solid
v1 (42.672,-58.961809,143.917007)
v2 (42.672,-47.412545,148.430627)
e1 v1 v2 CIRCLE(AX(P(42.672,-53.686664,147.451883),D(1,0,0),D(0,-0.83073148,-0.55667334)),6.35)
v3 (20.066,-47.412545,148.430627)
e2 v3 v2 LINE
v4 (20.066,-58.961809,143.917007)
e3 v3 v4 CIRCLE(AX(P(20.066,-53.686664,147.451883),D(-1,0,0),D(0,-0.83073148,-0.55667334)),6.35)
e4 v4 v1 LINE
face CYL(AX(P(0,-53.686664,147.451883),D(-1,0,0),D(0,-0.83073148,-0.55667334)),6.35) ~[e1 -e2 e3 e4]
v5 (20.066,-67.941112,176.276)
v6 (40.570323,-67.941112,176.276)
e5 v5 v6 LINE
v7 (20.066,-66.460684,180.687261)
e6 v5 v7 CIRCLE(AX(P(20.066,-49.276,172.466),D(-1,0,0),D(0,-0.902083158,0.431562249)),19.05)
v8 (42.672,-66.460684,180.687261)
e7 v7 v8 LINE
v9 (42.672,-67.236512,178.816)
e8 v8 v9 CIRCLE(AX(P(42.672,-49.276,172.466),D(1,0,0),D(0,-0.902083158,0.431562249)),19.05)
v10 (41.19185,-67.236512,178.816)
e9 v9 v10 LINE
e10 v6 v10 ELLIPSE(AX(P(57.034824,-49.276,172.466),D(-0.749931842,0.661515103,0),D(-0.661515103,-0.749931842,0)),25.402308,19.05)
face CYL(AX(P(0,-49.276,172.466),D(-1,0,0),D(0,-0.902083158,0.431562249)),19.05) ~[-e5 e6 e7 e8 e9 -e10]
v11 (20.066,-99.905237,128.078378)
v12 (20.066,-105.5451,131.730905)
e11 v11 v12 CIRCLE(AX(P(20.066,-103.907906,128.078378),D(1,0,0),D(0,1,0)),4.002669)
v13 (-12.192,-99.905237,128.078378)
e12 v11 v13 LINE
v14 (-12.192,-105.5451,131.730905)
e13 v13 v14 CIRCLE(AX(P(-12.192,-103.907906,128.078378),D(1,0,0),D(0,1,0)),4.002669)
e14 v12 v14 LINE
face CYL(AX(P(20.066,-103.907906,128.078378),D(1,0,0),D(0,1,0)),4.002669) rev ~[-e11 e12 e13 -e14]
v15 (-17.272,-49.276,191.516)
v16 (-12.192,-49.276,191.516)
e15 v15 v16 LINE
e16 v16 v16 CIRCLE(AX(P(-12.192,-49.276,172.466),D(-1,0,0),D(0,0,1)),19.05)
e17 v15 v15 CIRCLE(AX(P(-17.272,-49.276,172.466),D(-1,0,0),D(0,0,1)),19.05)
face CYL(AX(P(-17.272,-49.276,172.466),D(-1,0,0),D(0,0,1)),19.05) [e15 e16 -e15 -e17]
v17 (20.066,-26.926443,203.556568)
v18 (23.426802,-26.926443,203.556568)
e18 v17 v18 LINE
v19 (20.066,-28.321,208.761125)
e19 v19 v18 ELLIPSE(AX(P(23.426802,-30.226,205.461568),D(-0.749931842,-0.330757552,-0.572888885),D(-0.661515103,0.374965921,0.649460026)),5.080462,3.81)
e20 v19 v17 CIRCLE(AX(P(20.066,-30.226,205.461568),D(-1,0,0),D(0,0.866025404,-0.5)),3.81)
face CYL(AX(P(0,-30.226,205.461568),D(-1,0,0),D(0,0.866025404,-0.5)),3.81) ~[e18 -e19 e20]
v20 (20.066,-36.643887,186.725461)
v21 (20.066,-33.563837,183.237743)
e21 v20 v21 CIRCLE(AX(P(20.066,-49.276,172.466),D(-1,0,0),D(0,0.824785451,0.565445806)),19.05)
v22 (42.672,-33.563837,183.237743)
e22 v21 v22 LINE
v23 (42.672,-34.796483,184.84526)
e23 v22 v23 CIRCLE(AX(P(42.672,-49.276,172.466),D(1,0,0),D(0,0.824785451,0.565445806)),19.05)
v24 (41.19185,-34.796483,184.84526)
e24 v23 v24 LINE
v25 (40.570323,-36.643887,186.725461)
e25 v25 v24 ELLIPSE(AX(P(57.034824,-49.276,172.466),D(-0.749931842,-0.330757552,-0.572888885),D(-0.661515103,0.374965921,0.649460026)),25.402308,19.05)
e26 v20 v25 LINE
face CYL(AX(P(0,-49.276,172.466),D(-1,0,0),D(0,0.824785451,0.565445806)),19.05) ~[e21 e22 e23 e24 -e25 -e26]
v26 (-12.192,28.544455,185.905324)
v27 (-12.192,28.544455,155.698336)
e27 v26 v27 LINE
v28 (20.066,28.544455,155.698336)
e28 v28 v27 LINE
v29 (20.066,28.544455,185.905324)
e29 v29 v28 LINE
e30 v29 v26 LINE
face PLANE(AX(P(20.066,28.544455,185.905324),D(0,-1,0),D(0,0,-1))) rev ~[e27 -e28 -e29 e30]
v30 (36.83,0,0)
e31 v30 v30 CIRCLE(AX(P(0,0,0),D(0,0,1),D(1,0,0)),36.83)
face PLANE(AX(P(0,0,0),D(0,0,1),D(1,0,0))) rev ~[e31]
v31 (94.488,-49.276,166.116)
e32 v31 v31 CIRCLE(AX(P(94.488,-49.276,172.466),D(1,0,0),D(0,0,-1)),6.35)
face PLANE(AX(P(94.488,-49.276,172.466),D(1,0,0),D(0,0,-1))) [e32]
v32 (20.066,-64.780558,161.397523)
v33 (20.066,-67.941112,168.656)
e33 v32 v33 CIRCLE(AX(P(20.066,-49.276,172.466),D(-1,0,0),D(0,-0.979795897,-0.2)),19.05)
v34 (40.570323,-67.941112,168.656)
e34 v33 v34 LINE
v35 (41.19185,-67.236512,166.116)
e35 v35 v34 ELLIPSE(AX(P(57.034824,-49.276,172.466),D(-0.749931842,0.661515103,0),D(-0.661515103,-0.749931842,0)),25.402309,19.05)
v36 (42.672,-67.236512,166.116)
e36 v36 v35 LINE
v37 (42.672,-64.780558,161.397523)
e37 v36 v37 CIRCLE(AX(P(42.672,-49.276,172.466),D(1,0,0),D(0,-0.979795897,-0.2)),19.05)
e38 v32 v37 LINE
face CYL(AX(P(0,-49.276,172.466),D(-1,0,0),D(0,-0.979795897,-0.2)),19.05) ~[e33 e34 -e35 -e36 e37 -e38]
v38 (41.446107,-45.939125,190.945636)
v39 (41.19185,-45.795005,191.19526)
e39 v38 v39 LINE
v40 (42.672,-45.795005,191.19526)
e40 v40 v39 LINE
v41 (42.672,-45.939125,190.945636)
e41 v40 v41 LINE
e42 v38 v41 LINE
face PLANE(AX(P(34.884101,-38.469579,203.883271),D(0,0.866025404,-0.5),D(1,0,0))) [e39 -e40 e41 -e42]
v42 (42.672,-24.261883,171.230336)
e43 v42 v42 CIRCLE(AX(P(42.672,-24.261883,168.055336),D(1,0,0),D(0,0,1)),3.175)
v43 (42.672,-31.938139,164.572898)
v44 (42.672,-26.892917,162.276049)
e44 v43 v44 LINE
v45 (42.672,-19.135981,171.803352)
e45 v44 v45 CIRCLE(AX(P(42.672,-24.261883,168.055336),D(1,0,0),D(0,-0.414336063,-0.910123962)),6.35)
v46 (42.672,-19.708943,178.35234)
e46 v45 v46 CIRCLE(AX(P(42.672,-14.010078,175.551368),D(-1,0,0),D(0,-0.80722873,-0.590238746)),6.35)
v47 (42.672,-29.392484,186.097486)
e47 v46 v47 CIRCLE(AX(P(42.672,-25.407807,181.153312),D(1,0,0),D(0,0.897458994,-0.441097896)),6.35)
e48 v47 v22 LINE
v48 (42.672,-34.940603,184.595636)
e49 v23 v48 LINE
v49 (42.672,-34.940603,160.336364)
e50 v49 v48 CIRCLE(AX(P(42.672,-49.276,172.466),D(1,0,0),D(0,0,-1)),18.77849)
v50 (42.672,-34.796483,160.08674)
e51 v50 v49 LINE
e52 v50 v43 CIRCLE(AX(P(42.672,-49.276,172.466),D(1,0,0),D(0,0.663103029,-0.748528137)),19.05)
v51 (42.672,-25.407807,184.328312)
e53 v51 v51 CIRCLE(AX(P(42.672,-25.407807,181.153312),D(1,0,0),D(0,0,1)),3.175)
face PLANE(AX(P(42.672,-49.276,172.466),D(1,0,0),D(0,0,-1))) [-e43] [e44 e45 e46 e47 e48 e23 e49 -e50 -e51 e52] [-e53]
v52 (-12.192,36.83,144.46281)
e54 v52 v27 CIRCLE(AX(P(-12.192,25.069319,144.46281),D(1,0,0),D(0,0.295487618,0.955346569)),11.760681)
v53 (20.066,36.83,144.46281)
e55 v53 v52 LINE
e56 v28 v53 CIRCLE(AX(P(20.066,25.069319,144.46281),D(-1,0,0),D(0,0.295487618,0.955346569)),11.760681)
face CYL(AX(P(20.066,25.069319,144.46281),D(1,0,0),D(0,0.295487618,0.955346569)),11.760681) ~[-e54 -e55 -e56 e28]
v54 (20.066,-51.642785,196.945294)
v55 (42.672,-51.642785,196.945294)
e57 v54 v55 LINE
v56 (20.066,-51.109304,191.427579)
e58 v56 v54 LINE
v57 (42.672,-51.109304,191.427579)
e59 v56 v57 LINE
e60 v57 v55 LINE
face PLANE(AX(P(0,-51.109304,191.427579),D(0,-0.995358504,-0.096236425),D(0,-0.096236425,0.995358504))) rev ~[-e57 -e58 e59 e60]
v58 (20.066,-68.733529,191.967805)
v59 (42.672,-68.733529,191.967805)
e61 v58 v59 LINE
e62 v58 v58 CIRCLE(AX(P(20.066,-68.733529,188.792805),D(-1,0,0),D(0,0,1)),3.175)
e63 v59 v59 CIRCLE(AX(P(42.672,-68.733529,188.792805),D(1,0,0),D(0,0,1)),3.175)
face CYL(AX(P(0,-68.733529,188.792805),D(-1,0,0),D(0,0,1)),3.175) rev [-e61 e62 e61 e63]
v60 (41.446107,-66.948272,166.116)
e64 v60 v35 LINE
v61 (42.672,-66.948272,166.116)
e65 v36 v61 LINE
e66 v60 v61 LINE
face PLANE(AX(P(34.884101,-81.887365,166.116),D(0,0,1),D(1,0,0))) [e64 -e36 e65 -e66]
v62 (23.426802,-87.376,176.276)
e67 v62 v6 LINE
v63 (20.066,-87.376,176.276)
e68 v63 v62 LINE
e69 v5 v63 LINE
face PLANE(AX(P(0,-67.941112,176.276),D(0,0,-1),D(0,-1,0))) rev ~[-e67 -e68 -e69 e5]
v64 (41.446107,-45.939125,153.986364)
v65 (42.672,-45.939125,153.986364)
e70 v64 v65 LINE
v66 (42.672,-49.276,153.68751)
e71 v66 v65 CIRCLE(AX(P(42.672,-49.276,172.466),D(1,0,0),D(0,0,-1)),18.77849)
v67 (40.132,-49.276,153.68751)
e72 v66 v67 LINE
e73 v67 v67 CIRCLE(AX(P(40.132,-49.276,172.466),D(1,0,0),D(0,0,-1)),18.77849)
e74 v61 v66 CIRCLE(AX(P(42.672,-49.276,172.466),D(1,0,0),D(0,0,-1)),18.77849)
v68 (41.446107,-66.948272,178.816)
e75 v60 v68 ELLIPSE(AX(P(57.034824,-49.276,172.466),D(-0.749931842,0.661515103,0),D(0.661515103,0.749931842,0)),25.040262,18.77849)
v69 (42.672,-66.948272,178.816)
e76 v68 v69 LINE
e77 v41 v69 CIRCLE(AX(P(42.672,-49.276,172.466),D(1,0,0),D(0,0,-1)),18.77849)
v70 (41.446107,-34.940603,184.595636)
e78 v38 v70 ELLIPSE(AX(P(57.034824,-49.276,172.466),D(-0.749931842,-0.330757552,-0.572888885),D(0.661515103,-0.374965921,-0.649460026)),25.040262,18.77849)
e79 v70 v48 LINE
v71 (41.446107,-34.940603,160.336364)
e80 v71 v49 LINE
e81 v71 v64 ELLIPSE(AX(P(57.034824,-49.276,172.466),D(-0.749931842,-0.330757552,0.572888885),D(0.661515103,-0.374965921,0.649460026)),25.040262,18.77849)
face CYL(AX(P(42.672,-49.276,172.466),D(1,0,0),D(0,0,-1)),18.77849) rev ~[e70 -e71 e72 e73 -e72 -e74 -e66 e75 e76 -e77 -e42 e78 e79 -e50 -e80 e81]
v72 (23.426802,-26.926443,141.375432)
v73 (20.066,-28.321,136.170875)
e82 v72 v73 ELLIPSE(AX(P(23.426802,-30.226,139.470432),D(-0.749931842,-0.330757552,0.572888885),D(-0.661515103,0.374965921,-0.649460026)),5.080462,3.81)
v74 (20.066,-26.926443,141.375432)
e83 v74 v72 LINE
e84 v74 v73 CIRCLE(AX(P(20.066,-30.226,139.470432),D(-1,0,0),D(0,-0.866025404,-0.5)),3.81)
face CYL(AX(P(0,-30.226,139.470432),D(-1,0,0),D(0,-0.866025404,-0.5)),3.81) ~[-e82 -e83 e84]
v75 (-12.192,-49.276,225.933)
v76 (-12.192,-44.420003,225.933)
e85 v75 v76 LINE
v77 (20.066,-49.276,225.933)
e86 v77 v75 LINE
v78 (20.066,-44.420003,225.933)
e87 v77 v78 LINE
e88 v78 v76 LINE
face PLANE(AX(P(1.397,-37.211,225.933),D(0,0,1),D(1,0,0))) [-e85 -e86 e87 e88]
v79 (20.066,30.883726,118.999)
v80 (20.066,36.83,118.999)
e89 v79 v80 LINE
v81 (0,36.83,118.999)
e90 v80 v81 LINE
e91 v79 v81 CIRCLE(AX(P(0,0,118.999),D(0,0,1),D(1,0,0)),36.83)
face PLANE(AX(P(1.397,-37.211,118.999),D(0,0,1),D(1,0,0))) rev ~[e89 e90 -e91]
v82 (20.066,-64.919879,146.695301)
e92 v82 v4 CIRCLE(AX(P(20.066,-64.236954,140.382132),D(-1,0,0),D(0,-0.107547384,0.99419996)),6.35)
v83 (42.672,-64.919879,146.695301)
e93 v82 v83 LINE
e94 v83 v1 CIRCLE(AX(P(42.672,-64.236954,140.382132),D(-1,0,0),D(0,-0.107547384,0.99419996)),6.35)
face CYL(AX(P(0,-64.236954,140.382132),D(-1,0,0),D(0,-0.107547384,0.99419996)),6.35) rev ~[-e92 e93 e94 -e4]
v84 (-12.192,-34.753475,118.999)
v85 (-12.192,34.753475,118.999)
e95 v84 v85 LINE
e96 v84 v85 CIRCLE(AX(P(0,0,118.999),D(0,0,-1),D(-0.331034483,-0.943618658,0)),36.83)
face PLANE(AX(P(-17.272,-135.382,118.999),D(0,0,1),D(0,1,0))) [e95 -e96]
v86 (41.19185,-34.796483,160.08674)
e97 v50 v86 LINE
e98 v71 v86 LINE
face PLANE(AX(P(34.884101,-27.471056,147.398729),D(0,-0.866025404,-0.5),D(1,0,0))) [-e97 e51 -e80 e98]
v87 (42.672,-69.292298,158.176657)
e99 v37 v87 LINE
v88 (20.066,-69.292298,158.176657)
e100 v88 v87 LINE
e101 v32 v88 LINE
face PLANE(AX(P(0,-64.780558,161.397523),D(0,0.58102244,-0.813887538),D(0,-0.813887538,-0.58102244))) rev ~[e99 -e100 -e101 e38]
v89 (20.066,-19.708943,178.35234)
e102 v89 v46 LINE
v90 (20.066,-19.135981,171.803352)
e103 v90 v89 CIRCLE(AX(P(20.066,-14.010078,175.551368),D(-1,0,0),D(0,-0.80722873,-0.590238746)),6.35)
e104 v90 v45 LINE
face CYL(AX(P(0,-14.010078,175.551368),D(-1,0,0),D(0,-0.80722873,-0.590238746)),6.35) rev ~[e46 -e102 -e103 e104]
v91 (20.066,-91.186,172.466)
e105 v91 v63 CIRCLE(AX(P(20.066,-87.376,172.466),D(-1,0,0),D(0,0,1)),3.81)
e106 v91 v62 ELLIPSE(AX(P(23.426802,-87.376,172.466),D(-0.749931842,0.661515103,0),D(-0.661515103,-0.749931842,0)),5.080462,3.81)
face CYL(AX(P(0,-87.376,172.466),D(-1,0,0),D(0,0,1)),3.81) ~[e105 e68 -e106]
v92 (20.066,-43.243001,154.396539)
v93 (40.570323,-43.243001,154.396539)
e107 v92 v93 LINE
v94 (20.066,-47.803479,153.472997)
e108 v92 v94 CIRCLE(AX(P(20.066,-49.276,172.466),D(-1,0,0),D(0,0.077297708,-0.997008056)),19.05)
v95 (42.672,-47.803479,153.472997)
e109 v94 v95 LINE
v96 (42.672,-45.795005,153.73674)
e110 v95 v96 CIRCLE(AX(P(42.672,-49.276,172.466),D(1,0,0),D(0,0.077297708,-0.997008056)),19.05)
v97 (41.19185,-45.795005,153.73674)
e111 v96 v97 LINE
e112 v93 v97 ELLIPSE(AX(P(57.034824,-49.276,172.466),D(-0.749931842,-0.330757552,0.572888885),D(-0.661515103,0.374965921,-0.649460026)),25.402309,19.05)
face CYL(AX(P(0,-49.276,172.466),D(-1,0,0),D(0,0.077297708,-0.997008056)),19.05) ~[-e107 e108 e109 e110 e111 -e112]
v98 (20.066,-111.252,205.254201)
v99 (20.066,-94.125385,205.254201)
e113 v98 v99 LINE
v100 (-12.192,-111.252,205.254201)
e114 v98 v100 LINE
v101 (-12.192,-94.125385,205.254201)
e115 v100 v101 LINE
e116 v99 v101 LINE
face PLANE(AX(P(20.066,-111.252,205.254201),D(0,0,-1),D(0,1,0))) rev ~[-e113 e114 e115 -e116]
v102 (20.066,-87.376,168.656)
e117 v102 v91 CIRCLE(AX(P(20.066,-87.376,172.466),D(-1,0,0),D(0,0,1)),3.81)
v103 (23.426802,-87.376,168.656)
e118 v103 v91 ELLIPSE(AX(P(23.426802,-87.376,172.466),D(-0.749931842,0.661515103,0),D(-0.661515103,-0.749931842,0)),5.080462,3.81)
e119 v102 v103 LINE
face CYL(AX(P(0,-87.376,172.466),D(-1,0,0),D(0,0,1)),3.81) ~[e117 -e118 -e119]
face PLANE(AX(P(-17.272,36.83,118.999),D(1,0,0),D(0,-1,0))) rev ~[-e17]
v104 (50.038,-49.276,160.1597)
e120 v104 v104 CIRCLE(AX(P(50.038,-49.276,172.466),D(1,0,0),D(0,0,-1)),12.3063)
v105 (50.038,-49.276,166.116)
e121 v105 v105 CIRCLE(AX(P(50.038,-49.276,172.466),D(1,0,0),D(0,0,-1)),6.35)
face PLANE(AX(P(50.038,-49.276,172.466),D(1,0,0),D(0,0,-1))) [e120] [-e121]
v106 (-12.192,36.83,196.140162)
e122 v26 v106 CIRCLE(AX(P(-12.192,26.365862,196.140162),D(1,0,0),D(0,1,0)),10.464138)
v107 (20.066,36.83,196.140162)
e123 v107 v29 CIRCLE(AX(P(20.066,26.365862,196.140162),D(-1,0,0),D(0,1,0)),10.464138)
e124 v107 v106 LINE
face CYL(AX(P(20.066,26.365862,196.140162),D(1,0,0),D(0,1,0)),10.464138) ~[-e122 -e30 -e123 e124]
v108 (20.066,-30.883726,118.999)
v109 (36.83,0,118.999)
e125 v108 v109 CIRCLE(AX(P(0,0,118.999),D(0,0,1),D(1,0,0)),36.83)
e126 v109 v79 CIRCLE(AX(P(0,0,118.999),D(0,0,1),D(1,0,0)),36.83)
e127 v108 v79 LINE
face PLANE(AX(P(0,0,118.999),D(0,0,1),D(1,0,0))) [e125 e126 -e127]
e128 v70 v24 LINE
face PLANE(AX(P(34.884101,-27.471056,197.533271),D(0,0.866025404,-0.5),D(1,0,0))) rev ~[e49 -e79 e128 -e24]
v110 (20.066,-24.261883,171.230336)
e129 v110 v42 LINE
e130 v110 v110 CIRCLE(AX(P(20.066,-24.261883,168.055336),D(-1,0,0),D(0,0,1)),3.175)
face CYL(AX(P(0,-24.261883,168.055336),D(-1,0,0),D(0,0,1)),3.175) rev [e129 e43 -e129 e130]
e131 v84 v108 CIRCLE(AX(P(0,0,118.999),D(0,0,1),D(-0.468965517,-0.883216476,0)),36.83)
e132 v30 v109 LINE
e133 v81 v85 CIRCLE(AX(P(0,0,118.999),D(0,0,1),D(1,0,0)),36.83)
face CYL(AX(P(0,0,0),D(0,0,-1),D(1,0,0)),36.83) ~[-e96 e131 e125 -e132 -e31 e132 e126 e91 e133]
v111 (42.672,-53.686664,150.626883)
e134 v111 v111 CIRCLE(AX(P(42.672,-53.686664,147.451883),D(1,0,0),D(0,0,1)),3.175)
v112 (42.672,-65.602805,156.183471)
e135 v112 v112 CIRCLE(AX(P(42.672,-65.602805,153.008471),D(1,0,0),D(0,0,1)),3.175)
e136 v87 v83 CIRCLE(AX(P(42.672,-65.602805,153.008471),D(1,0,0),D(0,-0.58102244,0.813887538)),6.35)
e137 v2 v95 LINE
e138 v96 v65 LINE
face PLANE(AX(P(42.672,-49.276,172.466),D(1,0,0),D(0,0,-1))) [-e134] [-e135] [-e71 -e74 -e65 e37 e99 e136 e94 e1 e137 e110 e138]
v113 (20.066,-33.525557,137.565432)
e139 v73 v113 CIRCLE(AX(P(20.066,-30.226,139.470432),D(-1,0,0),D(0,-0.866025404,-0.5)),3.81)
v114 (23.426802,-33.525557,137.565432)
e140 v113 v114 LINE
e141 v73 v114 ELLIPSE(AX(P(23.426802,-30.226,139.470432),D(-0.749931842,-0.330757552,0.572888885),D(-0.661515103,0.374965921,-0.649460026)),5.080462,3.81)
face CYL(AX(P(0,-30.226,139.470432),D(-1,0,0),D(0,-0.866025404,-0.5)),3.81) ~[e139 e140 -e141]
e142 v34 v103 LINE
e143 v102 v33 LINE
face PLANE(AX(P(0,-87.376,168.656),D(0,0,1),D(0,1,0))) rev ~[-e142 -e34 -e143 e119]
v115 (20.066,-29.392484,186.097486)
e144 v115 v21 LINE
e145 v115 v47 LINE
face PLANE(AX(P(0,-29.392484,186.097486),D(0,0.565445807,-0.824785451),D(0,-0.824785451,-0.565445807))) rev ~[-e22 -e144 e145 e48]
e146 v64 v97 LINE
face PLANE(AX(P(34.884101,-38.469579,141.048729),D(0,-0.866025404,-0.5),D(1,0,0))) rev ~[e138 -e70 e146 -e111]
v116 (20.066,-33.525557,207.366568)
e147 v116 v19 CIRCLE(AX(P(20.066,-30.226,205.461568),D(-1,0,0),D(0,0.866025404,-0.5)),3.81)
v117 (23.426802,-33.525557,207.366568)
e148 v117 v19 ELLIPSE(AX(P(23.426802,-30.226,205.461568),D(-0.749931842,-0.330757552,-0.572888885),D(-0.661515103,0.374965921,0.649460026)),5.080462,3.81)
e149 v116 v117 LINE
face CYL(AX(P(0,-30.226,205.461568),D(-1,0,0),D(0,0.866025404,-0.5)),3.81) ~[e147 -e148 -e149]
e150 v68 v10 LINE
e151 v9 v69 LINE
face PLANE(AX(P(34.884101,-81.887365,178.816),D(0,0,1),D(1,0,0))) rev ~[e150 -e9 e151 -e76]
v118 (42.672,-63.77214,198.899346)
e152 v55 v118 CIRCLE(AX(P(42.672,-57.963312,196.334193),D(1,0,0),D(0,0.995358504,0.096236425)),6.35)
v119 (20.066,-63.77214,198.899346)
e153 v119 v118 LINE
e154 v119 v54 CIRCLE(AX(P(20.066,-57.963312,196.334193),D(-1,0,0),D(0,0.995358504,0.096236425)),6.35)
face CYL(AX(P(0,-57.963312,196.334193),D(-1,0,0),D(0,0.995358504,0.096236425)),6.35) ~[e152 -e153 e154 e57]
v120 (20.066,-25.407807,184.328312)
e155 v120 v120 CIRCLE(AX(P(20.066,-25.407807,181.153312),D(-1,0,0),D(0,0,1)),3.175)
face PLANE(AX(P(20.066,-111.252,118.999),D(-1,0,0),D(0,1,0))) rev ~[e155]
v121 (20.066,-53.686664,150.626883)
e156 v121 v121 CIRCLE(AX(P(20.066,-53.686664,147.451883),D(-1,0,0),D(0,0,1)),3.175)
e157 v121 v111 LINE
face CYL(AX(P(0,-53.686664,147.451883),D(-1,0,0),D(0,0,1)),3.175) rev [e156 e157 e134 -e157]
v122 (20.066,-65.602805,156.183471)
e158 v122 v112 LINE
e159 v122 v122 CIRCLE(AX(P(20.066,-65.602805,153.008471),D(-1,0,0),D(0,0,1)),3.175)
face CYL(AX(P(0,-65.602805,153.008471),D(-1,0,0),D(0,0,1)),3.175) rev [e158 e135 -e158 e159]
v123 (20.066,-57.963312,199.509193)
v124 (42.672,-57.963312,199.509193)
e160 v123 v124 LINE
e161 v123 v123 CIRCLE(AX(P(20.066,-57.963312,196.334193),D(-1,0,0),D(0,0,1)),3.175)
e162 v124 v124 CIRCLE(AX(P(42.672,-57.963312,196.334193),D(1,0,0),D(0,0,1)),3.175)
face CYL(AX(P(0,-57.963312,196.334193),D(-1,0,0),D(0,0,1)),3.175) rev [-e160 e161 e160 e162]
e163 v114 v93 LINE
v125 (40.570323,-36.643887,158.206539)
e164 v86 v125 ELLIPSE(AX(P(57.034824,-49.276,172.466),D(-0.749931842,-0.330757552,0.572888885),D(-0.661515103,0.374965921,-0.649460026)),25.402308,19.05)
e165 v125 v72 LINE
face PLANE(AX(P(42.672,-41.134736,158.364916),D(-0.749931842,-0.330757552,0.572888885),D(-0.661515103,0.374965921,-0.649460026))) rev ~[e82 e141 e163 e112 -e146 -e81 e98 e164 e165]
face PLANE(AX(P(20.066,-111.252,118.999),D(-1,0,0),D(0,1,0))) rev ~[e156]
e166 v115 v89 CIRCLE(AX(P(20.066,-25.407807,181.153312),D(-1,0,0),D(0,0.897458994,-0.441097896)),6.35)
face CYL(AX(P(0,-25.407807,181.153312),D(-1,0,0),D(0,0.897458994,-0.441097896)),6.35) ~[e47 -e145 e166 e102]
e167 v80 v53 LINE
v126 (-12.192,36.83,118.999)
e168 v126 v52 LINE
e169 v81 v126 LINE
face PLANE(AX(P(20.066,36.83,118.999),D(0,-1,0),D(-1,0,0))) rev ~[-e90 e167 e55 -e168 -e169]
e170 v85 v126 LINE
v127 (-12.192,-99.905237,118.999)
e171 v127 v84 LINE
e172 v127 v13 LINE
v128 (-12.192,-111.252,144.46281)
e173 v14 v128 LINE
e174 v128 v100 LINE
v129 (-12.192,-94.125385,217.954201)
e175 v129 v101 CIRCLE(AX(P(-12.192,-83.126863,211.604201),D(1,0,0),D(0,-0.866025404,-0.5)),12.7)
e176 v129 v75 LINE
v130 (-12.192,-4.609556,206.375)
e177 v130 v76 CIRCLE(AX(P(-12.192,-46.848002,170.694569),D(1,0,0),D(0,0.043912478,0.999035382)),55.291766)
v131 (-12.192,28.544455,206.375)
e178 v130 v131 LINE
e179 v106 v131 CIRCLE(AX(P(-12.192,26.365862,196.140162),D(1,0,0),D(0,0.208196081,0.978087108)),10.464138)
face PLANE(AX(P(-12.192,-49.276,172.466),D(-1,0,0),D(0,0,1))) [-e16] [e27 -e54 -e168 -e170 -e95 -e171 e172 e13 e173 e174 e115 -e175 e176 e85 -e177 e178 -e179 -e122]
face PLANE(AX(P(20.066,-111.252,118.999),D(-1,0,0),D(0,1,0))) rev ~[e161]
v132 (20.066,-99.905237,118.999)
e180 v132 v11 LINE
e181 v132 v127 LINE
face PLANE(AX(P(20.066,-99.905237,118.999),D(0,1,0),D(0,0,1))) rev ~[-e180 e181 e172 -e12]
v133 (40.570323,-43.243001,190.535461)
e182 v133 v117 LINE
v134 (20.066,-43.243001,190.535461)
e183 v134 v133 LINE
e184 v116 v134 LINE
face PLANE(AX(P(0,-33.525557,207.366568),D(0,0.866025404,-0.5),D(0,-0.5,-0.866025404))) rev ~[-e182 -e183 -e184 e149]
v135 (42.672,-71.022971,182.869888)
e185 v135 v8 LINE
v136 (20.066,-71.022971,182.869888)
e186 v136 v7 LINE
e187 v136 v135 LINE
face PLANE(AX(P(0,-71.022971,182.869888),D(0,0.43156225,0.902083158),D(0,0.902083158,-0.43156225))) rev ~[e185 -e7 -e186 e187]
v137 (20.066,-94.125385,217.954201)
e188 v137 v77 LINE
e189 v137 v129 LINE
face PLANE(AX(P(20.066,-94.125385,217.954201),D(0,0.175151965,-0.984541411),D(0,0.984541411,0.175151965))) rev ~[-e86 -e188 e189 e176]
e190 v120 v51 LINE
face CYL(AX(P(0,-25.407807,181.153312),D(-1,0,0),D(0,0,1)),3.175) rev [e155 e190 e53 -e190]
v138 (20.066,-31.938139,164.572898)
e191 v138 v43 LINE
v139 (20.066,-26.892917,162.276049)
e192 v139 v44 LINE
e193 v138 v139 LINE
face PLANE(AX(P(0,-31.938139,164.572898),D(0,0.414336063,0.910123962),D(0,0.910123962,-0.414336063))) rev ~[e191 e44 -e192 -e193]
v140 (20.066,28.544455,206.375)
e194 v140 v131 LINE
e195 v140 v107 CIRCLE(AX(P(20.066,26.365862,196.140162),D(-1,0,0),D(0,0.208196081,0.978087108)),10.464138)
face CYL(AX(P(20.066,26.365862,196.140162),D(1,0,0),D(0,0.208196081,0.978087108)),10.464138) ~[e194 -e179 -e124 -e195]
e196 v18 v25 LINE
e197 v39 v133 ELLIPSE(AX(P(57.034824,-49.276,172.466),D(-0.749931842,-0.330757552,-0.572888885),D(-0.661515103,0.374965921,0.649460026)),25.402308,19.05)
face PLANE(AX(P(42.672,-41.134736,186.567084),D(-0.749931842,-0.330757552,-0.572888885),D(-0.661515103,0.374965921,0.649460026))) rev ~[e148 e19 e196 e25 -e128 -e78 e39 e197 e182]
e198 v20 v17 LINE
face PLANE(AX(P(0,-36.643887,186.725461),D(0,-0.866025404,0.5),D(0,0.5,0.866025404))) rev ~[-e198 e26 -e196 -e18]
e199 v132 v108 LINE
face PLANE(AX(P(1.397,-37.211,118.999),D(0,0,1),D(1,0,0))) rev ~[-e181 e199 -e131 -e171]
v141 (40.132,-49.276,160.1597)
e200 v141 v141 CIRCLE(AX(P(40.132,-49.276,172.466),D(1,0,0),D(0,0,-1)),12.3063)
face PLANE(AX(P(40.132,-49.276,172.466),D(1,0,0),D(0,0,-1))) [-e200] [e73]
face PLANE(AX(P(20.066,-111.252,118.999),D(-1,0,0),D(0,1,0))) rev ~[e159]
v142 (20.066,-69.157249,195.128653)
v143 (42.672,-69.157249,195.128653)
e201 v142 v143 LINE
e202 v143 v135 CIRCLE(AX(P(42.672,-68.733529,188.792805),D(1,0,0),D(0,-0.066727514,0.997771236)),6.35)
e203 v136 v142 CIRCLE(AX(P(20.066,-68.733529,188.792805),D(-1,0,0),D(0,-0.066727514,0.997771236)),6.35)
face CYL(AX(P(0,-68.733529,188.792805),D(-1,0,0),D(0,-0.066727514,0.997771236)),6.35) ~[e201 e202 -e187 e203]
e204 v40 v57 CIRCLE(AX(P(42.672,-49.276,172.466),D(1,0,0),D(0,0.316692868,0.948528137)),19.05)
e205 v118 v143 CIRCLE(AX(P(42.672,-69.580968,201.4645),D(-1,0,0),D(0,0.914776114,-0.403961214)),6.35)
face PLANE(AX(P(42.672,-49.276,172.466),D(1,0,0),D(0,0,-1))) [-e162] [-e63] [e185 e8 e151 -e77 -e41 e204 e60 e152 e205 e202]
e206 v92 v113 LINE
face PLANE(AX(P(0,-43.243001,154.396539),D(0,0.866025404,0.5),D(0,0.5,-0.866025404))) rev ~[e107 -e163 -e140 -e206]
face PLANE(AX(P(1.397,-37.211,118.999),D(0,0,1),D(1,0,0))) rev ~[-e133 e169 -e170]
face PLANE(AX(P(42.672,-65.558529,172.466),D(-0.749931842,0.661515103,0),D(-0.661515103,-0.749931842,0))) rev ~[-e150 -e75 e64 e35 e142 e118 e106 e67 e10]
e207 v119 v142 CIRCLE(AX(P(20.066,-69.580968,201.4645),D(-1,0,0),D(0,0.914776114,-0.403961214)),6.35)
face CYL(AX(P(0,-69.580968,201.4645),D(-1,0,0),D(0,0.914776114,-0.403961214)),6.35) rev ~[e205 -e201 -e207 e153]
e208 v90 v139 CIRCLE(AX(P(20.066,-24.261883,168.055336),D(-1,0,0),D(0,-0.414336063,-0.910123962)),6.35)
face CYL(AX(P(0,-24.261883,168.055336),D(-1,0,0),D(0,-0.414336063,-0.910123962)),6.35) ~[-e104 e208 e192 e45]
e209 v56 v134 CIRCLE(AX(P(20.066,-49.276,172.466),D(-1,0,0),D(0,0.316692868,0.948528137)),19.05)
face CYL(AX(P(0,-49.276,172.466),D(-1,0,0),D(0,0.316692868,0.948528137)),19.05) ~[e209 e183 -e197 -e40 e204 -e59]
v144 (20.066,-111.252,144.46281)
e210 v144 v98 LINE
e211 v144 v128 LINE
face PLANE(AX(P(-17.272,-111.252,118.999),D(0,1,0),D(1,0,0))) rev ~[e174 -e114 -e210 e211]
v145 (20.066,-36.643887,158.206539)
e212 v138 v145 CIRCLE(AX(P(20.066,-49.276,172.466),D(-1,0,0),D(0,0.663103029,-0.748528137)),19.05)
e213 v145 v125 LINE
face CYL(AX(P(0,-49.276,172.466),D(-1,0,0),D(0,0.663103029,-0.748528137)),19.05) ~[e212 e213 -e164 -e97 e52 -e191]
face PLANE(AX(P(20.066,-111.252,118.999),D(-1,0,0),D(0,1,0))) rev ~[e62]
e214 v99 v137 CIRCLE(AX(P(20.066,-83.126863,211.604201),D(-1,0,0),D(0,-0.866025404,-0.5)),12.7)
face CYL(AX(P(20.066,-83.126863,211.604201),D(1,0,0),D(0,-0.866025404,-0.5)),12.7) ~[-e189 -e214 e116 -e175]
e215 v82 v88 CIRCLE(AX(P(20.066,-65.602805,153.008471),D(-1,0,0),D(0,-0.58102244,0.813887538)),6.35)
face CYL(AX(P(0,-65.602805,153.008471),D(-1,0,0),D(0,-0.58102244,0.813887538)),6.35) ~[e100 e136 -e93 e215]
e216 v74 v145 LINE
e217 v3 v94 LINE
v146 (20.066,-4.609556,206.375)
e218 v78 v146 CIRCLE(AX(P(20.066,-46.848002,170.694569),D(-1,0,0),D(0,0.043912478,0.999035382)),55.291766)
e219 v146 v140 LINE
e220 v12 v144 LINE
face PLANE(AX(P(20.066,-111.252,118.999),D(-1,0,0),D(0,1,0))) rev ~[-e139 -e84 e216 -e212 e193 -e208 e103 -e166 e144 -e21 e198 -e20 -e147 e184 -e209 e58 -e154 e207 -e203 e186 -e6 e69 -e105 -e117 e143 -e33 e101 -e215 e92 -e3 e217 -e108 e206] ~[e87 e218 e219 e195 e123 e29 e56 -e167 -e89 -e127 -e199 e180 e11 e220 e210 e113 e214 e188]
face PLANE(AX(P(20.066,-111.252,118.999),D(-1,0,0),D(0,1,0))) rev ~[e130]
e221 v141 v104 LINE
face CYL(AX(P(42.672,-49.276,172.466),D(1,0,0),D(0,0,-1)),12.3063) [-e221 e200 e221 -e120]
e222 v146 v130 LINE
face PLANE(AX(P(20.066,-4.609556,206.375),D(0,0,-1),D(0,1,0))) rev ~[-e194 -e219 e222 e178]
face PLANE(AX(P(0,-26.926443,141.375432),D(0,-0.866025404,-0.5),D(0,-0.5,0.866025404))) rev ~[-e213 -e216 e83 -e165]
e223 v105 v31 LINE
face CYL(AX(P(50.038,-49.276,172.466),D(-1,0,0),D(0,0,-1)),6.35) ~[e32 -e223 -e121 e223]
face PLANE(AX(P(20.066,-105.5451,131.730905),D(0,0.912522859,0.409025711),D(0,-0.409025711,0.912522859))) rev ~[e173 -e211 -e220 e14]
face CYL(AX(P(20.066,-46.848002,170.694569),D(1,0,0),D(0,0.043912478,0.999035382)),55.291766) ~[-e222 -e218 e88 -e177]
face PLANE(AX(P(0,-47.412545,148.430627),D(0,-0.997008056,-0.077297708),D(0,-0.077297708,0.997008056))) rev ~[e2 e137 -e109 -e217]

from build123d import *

# Parameters (mm, degrees)
SKETCH1_R           = 36.83
BOSS_EXTRUDE1_DEPTH = 118.999
BOSS_EXTRUDE2_DEPTH = 106.934
SKETCH5_R           = 3.175
BOSS_EXTRUDE3_DEPTH = 42.672
SKETCH6_R           = 12.3063
BOSS_EXTRUDE4_DEPTH = 7.366
SKETCH7_R           = 6.35
BOSS_EXTRUDE5_DEPTH = 44.45
CUT_EXTRUDE1_DEPTH  = 6.35
CIRPATTERN1_COUNT   = 3
SKETCH9_R           = 18.778489943
SKETCH9_R_2         = 12.3063
CUT_EXTRUDE3_DEPTH  = 2.54
CUT_EXTRUDE5_DEPTH  = 64.516
SKETCH11_W          = 106.934
SKETCH11_H          = 172.212
SKETCH11_R          = 19.05
CUT_EXTRUDE6_DEPTH  = 5.08


with BuildPart() as part:
    # Sketch1 → Boss-Extrude1 (new body)
    with BuildSketch(Plane.XY):
        Circle(SKETCH1_R)
    extrude(amount=BOSS_EXTRUDE1_DEPTH)

    # Sketch2 → Boss-Extrude2 (add)
    with BuildSketch(Plane.XY.offset(118.999)):
        Polygon((-17.272, -111.252), (0, -111.252), (20.066, -111.252), (20.066, 36.83), (0, 36.83), (-17.272, 36.83), align=None)
    extrude(amount=BOSS_EXTRUDE2_DEPTH)

    # Sketch5 → Boss-Extrude3 (add)
    with BuildSketch(Plane(origin=(0, 0, 0), x_dir=(0, 0, -1), z_dir=(1, 0, 0))):
        with BuildLine():
            Line((-161.397522513, -64.780557592), (-158.176657009, -69.292297782))
            ThreePointArc((-158.176657009, -69.292297782), (-150.748546887, -71.537048486), (-146.695301399, -64.919879399))
            ThreePointArc((-146.695301399, -64.919879399), (-146.137186102, -61.553327551), (-143.917007364, -58.961808613))
            ThreePointArc((-143.917007364, -58.961808613), (-141.537508816, -51.375240527), (-148.430626829, -47.412545395))
            Line((-148.430626829, -47.412545395), (-153.472996527, -47.803478665))
            ThreePointArc((-153.472996527, -47.803478665), (-153.795004902, -45.494936389), (-154.396538982, -43.243000868))
            Line((-154.396538982, -43.243000868), (-137.565432116, -33.525556788))
            ThreePointArc((-137.565432116, -33.525556788), (-136.170875327, -28.321), (-141.375432116, -26.926443212))
            Line((-141.375432116, -26.926443212), (-158.206538982, -36.643887292))
            ThreePointArc((-158.206538982, -36.643887292), (-161.142571632, -33.956650471), (-164.572897994, -31.938138519))
            Line((-164.572897994, -31.938138519), (-162.276049127, -26.892917075))
            ThreePointArc((-162.276049127, -26.892917075), (-164.046093053, -19.337609656), (-171.803352327, -19.135980639))
            ThreePointArc((-171.803352327, -19.135980639), (-174.997929399, -20.335914537), (-178.352340003, -19.708942818))
            ThreePointArc((-178.352340003, -19.708942818), (-186.112249967, -21.44152067), (-186.097485612, -29.392483547))
            Line((-186.097485612, -29.392483547), (-183.23774262, -33.563837166))
            ThreePointArc((-183.23774262, -33.563837166), (-185.07599469, -34.996975736), (-186.725461018, -36.643887292))
            Line((-186.725461018, -36.643887292), (-203.556567884, -26.926443212))
            ThreePointArc((-203.556567884, -26.926443212), (-208.761124673, -28.321), (-207.366567884, -33.525556788))
            Line((-207.366567884, -33.525556788), (-190.535461018, -43.243000868))
            ThreePointArc((-190.535461018, -43.243000868), (-191.394660046, -47.12929814), (-191.427579493, -51.109303889))
            Line((-191.427579493, -51.109303889), (-196.945293864, -51.642785143))
            ThreePointArc((-196.945293864, -51.642785143), (-202.60336006, -56.953341858), (-198.899346274, -63.772139962))
            ThreePointArc((-198.899346274, -63.772139962), (-196.262884499, -65.938757912), (-195.128652633, -69.157248569))
            ThreePointArc((-195.128652633, -69.157248569), (-189.748241217, -75.011238802), (-182.869887559, -71.022971058))
            Line((-182.869887559, -71.022971058), (-180.687260853, -66.460684169))
            ThreePointArc((-180.687260853, -66.460684169), (-178.527000408, -67.336087875), (-176.276, -67.94111184))
            Line((-176.276, -67.94111184), (-176.276, -87.376))
            ThreePointArc((-176.276, -87.376), (-172.466, -91.186), (-168.656, -87.376))
            Line((-168.656, -87.376), (-168.656, -67.94111184))
            ThreePointArc((-168.656, -67.94111184), (-164.860768323, -66.742051389), (-161.397522513, -64.780557592))
        make_face()
        with Locations(Location((-196.334192568, -57.96331164, 0), (0, 0, 180))):
            Circle(SKETCH5_R, mode=Mode.SUBTRACT)
        with Locations(Location((-188.792805286, -68.733528855, 0), (0, 0, 180))):
            Circle(SKETCH5_R, mode=Mode.SUBTRACT)
        with Locations(Location((-153.008471145, -65.602805286, 0), (0, 0, 180))):
            Circle(SKETCH5_R, mode=Mode.SUBTRACT)
        with Locations(Location((-181.15331164, -25.407807432, 0), (0, 0, 180))):
            Circle(SKETCH5_R, mode=Mode.SUBTRACT)
        with Locations(Location((-147.451883073, -53.686663713, 0), (0, 0, 180))):
            Circle(SKETCH5_R, mode=Mode.SUBTRACT)
        with Locations(Location((-168.055336287, -24.261883073, 0), (0, 0, 180))):
            Circle(SKETCH5_R, mode=Mode.SUBTRACT)
    extrude(amount=BOSS_EXTRUDE3_DEPTH)

    # Sketch6 → Boss-Extrude4 (add)
    with BuildSketch(Plane(origin=(42.672, 0, 0), x_dir=(0, 0, -1), z_dir=(1, 0, 0))):
        with Locations((-172.466, -49.276)):
            Circle(SKETCH6_R)
    extrude(amount=BOSS_EXTRUDE4_DEPTH)

    # Sketch7 → Boss-Extrude5 (add)
    with BuildSketch(Plane(origin=(50.038, 0, 0), x_dir=(0, 0, -1), z_dir=(1, 0, 0))):
        with Locations((-172.466, -49.276)):
            Circle(SKETCH7_R)
    extrude(amount=BOSS_EXTRUDE5_DEPTH)

    # Sketch8 → Cut-Extrude1 (cut, symmetric)
    with BuildSketch(Plane.XY.offset(172.466)):
        Polygon((33.984536572, -91.186), (42.672, -91.186), (42.672, -65.558528855), (20.066, -91.186), align=None)
    cut_extrude1 = extrude(amount=CUT_EXTRUDE1_DEPTH, both=True, mode=Mode.SUBTRACT)

    # CirPattern1: Cut-Extrude1 ×3 about axis
    cirpattern1_axis = Axis((0, -49.276, 172.466), (1, 0, 0))
    for i in range(1, CIRPATTERN1_COUNT):
        add(cut_extrude1.rotate(cirpattern1_axis, i * 360 / CIRPATTERN1_COUNT), mode=Mode.SUBTRACT)

    # Sketch9 → Cut-Extrude3 (cut)
    with BuildSketch(Plane(origin=(42.672, 0, 0), x_dir=(0, 0, -1), z_dir=(1, 0, 0))):
        with Locations((-172.466, -49.276)):
            Circle(SKETCH9_R)
        with Locations((-172.466, -49.276)):
            Circle(SKETCH9_R_2, mode=Mode.SUBTRACT)
    extrude(amount=-CUT_EXTRUDE3_DEPTH, mode=Mode.SUBTRACT)

    # Sketch10 → Cut-Extrude5 (cut)
    with BuildSketch(Plane(origin=(20.066, 0, 0), x_dir=(0, 0, -1), z_dir=(1, 0, 0))):
        with BuildLine():
            ThreePointArc((-196.140161944, 36.83), (-189.556049093, 34.498981945), (-185.905323889, 28.544454869))
            Line((-185.905323889, 28.544454869), (-155.698336218, 28.544454869))
            ThreePointArc((-155.698336218, 28.544454869), (-151.442912399, 34.534613017), (-144.462810316, 36.83))
            Line((-144.462810316, 36.83), (-196.140161944, 36.83))
        make_face()
        with BuildLine():
            Line((-225.933, 36.83), (-196.140161944, 36.83))
            Line((-196.140161944, 36.83), (-144.462810316, 36.83))
            Line((-144.462810316, 36.83), (-118.999, 36.83))
            Line((-118.999, 36.83), (-118.999, 50.647128775))
            Line((-118.999, 50.647128775), (-241.488177292, 47.370933918))
            Line((-241.488177292, 47.370933918), (-248.161188723, -133.541820439))
            Line((-248.161188723, -133.541820439), (-101.17840725, -130.594797251))
            Line((-101.17840725, -130.594797251), (-97.863006164, -40.710590035))
            Line((-97.863006164, -40.710590035), (-118.999, -36.83))
            Line((-118.999, -36.83), (-118.999, -99.905236761))
            Line((-118.999, -99.905236761), (-118.999, -111.252))
            Line((-118.999, -111.252), (-144.462810316, -111.252))
            Line((-144.462810316, -111.252), (-205.254201052, -111.252))
            Line((-205.254201052, -111.252), (-225.933, -111.252))
            Line((-225.933, -111.252), (-225.933, -49.276))
            ThreePointArc((-225.933, -49.276), (-225.98633544, -46.848001509), (-225.933, -44.420003018))
            Line((-225.933, -44.420003018), (-225.933, 36.83))
        make_face()
        with BuildLine():
            ThreePointArc((-206.375, 28.544454869), (-202.724274795, 34.498981945), (-196.140161944, 36.83))
            Line((-196.140161944, 36.83), (-225.933, 36.83))
            Line((-225.933, 36.83), (-225.933, -44.420003018))
            ThreePointArc((-225.933, -44.420003018), (-220.320950995, -22.467647817), (-206.375, -4.609555989))
            Line((-206.375, -4.609555989), (-206.375, 28.544454869))
        make_face()
        with BuildLine():
            Line((-217.954201052, -94.125385307), (-225.933, -49.276))
            Line((-225.933, -49.276), (-225.933, -111.252))
            Line((-225.933, -111.252), (-205.254201052, -111.252))
            Line((-205.254201052, -111.252), (-205.254201052, -94.125385307))
            ThreePointArc((-205.254201052, -94.125385307), (-211.604201052, -95.826862679), (-217.954201052, -94.125385307))
        make_face()
        with BuildLine():
            Line((-131.730905158, -105.545100158), (-144.462810316, -111.252))
            Line((-144.462810316, -111.252), (-118.999, -111.252))
            Line((-118.999, -111.252), (-118.999, -99.905236761))
            Line((-118.999, -99.905236761), (-128.078378287, -99.905236761))
            ThreePointArc((-128.078378287, -99.905236761), (-131.438029001, -101.732105713), (-131.730905158, -105.545100158))
        make_face()
    extrude(amount=-CUT_EXTRUDE5_DEPTH, mode=Mode.SUBTRACT)

    # Sketch11 → Cut-Extrude6 (cut)
    with BuildSketch(Plane.ZY.offset(17.272)):
        with Locations((172.466, -49.276)):
            Rectangle(SKETCH11_W, SKETCH11_H)
        with Locations((172.466, -49.276)):
            Circle(SKETCH11_R, mode=Mode.SUBTRACT)
    extrude(amount=-CUT_EXTRUDE6_DEPTH, mode=Mode.SUBTRACT)


solid = part.part
